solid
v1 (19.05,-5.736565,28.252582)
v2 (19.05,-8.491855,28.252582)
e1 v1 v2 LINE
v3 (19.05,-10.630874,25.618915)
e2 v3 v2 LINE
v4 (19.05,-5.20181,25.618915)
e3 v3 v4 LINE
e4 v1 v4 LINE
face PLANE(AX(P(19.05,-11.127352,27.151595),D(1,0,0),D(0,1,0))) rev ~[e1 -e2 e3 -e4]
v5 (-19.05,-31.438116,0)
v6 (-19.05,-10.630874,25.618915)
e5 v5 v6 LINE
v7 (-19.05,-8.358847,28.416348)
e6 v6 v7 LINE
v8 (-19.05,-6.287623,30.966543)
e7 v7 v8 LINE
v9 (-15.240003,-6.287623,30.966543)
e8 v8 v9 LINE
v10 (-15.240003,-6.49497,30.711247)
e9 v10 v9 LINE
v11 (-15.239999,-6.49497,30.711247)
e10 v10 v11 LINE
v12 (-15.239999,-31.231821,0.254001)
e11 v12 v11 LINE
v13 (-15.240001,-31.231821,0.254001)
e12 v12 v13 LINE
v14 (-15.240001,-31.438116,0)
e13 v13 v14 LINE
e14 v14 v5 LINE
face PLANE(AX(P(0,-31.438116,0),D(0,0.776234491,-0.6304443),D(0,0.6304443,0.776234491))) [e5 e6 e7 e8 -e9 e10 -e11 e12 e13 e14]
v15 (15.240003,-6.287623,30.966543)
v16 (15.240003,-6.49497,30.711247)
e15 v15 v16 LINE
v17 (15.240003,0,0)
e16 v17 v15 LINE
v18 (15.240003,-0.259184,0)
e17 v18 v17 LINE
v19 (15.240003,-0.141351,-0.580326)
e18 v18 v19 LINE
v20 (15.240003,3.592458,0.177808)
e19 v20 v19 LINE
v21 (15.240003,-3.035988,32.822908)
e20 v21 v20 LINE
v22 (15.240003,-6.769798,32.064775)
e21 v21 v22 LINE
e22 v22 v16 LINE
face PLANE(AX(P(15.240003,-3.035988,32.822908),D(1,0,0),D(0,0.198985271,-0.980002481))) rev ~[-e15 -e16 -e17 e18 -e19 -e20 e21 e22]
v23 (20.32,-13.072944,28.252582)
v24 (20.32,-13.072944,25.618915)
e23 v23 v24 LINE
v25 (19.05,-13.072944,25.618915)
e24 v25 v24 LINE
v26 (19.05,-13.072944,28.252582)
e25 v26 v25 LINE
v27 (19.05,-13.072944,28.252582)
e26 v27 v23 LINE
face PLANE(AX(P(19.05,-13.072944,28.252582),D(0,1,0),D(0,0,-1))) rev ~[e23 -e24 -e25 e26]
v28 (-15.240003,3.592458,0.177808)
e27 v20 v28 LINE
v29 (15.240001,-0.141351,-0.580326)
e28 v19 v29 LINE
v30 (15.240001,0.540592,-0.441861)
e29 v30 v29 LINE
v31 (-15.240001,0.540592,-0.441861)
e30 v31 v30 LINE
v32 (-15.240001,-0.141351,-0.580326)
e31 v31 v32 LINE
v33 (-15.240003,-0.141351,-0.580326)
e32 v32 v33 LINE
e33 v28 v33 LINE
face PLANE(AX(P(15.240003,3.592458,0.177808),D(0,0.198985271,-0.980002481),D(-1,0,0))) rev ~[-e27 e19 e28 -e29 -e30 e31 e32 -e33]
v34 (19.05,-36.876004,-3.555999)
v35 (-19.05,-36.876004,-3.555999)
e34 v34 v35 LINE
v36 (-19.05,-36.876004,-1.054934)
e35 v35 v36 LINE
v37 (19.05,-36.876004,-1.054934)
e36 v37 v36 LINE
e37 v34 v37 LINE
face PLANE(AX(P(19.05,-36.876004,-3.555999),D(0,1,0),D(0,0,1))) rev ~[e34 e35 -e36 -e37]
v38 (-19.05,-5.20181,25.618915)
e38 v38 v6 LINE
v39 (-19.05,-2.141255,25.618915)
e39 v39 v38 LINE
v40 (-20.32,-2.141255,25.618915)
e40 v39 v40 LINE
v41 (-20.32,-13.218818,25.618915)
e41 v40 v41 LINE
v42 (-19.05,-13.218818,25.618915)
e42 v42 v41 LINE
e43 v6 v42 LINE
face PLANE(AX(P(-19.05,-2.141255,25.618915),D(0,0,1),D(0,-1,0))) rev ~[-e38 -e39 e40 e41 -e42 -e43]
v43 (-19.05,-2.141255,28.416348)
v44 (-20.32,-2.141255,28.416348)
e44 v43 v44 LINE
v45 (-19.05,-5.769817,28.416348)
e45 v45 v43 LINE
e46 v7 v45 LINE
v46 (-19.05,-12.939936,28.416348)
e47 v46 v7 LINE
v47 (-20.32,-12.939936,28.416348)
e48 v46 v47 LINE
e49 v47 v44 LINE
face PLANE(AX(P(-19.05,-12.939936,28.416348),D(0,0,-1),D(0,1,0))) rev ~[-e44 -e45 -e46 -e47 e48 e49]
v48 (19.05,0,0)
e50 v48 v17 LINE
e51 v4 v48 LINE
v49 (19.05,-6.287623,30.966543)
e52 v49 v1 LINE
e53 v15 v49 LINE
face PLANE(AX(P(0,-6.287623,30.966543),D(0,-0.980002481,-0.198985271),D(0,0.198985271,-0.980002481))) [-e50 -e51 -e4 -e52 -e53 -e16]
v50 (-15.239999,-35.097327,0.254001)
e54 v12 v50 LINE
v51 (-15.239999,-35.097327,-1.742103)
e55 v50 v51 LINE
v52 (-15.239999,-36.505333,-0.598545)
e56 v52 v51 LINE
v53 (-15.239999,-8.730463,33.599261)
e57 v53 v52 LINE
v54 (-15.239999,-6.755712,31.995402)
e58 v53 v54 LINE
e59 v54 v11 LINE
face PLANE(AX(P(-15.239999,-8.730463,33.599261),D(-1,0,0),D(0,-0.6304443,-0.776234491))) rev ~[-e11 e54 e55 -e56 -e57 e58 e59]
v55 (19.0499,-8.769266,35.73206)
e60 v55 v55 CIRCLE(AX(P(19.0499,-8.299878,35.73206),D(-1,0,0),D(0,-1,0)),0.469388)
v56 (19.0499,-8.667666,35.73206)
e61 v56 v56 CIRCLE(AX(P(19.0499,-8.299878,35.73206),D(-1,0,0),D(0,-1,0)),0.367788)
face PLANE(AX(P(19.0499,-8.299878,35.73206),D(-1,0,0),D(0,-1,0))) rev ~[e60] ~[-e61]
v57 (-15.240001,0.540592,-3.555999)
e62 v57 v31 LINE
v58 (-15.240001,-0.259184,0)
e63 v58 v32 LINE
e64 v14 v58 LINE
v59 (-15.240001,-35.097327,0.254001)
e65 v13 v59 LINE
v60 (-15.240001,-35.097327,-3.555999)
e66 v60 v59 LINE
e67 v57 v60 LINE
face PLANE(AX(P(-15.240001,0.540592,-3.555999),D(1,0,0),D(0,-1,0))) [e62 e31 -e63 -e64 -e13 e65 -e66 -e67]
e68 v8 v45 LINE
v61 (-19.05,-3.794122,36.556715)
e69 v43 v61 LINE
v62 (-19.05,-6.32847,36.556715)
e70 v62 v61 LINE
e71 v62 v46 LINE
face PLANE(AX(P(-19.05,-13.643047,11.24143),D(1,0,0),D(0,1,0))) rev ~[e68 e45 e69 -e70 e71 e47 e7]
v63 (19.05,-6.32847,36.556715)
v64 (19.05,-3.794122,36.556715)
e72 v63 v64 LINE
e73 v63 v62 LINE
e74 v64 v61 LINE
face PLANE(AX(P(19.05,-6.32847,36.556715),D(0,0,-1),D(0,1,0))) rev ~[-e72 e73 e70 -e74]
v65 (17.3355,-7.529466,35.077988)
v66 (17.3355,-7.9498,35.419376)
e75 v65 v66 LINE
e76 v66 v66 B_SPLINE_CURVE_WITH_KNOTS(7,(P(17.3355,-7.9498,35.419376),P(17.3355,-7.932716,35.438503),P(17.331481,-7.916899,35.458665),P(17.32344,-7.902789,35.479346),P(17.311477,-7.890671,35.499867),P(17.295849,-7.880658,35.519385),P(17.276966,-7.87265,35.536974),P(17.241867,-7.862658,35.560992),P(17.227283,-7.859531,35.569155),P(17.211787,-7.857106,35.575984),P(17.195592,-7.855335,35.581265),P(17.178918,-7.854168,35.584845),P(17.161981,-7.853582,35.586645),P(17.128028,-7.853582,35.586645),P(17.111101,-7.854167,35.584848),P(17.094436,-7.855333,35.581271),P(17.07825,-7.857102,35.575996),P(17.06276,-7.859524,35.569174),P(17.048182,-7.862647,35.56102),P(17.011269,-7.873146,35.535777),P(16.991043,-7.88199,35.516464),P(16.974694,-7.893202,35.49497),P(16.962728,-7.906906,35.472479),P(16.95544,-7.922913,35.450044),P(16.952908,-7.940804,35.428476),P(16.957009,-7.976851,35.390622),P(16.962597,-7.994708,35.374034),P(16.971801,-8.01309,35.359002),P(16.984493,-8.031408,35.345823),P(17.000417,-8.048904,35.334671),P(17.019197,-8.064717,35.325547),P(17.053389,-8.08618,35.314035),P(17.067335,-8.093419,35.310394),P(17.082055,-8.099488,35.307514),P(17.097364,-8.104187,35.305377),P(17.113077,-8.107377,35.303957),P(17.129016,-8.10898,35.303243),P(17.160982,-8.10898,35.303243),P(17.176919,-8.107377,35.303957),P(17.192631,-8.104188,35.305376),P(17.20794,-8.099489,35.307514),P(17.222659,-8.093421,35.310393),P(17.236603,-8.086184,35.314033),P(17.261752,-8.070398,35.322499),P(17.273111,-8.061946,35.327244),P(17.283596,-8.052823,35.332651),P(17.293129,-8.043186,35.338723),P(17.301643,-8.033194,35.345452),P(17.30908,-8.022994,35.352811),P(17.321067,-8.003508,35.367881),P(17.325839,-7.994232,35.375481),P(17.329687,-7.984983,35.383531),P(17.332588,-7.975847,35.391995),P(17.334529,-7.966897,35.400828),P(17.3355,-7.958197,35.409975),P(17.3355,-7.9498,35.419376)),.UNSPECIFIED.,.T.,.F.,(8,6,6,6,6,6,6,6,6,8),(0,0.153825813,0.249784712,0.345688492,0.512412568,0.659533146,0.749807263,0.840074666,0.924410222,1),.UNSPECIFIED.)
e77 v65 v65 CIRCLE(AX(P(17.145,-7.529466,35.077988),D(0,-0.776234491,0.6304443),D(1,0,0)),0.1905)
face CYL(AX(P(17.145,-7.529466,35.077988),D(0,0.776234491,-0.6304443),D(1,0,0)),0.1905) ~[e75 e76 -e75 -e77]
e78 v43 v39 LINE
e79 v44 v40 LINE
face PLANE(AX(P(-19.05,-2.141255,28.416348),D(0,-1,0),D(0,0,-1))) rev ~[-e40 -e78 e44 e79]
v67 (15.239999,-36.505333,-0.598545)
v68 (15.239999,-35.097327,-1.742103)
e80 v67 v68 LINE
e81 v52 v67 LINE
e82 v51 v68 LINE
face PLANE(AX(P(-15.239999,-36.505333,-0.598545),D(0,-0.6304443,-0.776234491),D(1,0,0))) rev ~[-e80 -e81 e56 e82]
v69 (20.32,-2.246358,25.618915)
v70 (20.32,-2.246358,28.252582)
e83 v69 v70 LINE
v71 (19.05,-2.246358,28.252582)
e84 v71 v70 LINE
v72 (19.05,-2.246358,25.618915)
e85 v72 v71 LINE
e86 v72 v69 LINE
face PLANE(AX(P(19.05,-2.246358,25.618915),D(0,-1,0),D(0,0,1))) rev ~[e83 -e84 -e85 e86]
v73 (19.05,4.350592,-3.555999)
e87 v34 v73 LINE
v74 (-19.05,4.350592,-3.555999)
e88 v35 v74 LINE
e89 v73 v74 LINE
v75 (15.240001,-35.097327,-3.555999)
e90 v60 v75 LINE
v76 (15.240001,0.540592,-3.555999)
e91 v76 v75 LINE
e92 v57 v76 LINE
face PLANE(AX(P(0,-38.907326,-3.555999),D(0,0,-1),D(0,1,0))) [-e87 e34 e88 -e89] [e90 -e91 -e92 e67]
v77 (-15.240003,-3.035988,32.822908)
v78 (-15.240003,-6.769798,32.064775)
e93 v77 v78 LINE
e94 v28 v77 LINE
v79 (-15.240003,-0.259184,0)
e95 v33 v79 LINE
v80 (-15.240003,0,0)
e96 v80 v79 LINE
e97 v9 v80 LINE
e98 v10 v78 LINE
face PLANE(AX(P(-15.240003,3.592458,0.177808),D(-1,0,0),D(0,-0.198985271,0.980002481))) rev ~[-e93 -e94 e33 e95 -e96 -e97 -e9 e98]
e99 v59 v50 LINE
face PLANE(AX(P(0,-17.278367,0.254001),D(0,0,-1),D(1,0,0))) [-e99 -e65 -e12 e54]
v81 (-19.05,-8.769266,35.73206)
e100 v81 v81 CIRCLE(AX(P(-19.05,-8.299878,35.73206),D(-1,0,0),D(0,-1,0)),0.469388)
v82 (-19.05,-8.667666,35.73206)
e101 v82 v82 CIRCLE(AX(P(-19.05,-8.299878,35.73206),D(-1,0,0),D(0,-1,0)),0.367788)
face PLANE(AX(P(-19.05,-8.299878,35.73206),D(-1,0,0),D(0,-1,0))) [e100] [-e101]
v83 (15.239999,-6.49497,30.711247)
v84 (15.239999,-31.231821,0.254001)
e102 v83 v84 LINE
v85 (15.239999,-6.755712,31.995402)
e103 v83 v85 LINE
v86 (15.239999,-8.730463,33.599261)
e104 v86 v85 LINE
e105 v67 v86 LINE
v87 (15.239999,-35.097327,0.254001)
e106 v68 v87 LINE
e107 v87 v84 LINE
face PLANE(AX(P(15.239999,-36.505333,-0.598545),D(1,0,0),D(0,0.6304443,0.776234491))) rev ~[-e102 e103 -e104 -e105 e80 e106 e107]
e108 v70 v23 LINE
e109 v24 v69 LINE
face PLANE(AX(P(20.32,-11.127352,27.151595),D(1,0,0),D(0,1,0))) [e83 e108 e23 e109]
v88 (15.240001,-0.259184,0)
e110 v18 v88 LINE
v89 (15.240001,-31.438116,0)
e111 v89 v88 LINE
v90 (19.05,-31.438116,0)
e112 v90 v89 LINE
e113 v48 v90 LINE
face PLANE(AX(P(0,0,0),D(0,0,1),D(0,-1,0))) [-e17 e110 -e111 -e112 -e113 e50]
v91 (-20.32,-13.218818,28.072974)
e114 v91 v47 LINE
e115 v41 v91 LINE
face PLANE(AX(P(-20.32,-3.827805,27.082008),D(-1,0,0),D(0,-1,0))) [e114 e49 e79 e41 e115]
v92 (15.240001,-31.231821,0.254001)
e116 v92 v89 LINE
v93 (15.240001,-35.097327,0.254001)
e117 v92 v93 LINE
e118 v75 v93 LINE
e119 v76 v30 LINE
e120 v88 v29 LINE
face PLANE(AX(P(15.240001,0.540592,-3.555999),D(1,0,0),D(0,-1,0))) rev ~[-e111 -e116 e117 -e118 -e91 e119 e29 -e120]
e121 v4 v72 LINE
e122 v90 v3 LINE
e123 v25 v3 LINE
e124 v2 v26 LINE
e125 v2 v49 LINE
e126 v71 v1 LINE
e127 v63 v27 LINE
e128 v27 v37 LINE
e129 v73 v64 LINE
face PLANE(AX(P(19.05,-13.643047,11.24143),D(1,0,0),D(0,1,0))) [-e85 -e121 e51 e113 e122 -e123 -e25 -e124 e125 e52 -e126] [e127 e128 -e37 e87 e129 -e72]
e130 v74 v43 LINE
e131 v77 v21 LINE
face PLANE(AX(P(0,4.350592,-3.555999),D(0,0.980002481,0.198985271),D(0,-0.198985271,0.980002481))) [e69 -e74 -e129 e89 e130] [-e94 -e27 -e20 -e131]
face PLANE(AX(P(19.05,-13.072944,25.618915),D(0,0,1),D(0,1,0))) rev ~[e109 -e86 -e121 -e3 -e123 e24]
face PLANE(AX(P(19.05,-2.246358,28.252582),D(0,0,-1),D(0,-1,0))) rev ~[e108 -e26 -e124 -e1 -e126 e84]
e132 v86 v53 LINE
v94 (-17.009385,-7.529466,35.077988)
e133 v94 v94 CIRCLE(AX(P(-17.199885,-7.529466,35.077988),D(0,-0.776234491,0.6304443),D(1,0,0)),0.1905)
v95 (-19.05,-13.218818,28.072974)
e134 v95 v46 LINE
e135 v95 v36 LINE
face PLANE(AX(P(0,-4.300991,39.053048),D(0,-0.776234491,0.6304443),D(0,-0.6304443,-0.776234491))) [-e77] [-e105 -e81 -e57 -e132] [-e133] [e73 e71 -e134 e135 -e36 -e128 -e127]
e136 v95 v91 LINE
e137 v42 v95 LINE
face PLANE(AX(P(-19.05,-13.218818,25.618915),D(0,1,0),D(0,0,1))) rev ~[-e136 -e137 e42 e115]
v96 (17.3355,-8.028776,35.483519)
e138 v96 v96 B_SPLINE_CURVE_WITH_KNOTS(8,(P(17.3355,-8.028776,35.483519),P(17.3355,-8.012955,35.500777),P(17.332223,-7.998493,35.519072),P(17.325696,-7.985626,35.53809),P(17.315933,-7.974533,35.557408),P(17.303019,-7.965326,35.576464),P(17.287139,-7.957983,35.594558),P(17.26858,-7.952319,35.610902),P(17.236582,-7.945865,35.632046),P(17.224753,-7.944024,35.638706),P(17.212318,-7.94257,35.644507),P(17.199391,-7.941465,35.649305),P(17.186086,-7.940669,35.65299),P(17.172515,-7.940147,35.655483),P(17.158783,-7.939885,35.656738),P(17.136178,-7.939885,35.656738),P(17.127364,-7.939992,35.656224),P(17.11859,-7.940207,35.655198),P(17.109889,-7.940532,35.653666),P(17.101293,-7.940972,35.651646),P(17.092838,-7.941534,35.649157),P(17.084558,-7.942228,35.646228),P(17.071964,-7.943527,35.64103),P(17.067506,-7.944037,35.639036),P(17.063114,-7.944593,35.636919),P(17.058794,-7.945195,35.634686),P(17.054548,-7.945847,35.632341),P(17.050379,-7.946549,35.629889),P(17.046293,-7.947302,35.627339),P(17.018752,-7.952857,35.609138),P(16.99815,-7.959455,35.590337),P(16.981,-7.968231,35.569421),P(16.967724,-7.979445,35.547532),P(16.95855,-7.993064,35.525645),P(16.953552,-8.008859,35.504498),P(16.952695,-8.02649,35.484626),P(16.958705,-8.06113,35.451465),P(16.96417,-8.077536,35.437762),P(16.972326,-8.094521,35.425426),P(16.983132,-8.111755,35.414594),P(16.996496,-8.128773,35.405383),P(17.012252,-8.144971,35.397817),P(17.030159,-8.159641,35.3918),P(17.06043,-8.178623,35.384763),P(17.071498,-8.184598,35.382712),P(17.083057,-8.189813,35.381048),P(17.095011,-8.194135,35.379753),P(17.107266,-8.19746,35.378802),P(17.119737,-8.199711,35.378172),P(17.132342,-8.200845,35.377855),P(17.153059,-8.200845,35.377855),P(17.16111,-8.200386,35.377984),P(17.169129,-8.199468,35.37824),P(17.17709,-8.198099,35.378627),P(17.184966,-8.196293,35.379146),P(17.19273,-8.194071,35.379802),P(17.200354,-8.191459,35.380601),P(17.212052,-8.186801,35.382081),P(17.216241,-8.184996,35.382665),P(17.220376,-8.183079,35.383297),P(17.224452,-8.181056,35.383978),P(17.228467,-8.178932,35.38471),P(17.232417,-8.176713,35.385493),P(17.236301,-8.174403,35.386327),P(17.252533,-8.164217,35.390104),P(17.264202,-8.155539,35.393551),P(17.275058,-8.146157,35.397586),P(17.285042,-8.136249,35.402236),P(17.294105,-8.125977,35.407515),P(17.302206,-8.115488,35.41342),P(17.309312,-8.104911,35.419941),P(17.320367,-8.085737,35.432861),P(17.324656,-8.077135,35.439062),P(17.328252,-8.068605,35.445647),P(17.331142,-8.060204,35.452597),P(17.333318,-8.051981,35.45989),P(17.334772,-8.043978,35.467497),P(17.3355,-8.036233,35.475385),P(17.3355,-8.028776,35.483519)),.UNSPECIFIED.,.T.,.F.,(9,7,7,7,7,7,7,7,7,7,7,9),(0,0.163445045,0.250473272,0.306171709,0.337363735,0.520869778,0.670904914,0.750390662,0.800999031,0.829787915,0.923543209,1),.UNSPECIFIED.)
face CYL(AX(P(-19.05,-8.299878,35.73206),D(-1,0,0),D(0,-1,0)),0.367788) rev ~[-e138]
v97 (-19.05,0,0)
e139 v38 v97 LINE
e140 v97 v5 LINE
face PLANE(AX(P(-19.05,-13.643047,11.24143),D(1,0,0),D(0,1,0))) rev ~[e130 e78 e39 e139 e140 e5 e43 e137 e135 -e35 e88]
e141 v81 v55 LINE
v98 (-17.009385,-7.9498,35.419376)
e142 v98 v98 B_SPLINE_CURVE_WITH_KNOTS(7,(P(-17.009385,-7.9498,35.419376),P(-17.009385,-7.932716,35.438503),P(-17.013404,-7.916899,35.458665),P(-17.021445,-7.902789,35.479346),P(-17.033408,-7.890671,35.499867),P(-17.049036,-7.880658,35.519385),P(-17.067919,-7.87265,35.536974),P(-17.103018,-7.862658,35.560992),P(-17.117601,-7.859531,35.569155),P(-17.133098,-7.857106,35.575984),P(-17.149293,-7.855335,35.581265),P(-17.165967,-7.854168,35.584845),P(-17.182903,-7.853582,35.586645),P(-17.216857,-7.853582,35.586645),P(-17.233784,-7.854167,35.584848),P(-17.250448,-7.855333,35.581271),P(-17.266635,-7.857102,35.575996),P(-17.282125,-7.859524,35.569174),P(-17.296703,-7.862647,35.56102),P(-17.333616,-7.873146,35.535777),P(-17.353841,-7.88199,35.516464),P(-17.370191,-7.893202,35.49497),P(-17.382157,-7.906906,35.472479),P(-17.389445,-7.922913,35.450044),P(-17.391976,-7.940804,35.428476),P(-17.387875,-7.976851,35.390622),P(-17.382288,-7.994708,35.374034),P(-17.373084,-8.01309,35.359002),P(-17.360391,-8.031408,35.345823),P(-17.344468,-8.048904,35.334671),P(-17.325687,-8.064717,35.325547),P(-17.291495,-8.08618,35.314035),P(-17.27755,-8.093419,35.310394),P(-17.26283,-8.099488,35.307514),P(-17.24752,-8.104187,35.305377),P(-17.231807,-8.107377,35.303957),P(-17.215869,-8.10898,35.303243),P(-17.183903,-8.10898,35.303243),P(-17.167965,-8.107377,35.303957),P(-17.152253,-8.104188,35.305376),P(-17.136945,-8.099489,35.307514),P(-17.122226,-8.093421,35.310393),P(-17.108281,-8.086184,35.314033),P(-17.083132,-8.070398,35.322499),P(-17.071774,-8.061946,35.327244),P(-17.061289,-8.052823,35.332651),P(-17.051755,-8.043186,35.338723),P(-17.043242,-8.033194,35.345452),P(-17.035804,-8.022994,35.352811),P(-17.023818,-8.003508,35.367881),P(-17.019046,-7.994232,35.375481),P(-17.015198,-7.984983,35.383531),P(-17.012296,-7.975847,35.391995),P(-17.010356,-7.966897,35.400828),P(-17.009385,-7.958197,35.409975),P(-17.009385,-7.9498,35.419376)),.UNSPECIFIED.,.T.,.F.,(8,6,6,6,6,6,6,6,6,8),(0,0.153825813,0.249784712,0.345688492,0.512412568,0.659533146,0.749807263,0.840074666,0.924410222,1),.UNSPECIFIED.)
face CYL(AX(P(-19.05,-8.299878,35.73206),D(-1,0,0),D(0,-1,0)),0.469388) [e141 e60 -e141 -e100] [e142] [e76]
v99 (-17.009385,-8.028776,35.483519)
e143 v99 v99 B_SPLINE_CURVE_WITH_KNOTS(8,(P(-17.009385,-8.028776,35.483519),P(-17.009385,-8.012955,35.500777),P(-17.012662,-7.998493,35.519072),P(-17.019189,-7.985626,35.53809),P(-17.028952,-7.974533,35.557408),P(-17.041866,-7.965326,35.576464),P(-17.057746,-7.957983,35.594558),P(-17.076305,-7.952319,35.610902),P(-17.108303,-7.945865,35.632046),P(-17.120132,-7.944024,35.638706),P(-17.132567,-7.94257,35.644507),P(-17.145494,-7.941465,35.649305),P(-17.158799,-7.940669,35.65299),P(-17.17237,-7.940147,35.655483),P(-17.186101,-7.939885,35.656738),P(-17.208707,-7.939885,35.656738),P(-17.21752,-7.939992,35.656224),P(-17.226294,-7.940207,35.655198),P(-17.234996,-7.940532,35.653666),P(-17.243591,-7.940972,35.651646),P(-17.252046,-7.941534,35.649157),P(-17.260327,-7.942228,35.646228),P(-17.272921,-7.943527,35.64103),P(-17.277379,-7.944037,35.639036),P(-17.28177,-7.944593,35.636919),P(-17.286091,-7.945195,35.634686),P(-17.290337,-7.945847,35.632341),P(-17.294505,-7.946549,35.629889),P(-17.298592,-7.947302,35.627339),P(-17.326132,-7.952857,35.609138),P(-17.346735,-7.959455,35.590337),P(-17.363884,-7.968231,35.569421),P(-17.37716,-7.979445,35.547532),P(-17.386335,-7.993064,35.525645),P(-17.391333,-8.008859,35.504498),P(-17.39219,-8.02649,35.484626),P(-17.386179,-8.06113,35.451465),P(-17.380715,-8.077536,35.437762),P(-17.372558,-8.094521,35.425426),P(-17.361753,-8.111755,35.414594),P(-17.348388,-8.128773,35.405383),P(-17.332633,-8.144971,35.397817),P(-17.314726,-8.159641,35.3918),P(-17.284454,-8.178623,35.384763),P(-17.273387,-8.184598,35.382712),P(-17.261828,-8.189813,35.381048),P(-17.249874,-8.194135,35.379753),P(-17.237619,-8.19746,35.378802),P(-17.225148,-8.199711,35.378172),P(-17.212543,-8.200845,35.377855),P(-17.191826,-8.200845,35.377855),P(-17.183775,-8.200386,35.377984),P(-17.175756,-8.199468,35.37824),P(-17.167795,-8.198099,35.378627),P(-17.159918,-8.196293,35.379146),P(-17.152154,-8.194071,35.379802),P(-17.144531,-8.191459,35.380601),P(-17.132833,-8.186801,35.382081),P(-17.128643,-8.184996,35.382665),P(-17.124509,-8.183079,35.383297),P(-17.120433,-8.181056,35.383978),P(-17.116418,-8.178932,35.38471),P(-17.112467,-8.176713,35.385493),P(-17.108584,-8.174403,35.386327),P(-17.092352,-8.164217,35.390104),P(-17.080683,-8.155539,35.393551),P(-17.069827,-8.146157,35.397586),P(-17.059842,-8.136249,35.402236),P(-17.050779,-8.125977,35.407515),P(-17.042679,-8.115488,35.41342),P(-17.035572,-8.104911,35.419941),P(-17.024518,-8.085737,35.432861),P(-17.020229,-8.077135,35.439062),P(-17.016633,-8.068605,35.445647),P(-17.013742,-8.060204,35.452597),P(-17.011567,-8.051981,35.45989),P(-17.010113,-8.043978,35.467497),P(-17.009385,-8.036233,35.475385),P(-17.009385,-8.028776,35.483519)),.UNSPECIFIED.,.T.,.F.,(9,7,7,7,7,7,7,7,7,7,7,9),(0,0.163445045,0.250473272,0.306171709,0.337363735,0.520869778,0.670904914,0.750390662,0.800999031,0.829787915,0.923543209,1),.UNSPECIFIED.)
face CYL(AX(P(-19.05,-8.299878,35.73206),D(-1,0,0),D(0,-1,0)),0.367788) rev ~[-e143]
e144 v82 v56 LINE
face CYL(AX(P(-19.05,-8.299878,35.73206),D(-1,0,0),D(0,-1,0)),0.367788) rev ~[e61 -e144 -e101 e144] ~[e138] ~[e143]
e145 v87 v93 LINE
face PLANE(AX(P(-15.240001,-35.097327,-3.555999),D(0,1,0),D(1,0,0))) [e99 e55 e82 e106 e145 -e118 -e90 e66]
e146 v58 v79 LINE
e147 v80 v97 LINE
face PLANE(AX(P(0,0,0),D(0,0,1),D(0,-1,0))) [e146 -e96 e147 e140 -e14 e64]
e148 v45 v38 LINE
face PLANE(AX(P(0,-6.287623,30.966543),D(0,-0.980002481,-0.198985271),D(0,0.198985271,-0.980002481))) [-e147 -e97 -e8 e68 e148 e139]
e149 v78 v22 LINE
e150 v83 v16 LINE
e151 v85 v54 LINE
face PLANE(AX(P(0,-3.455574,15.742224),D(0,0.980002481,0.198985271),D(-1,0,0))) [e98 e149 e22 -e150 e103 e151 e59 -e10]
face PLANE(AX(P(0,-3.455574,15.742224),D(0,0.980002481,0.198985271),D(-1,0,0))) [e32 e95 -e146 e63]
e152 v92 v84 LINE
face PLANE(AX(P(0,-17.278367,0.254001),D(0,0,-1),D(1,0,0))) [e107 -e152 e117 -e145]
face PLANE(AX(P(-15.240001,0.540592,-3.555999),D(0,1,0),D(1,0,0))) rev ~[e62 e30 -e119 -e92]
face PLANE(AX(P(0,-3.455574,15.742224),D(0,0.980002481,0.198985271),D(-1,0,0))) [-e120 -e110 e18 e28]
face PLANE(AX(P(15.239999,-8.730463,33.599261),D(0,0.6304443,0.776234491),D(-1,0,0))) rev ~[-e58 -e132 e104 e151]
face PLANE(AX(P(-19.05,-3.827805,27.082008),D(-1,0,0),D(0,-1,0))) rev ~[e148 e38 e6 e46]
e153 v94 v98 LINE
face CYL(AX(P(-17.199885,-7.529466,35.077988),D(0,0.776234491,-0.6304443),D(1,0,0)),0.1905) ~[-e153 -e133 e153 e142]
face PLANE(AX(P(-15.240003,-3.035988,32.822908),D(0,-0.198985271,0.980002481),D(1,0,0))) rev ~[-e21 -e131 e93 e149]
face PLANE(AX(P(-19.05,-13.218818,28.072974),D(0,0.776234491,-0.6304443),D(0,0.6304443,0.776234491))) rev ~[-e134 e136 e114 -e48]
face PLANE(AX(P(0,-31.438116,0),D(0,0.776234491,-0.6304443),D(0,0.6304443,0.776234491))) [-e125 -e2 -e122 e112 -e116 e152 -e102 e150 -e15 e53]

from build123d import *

# Parameters (mm, degrees)
F1_DEPTH  = 19.05
F3_DEPTH  = 50.8
F6_DEPTH  = 1.27
F7_DEPTH  = 1.27
F9_DEPTH  = 4.064
F11_DEPTH = 3.81
F12_W     = 30.4800014411
F12_H     = 35.6379195737
F13_DEPTH = 3.81
F14_R     = 0.1905
F15_DEPTH = 1.016
F17_DEPTH = 50.8
F18_R     = 0.4693884444
F18_R_2   = 0.3677883594
F19_DEPTH = 38.0999
F20_DEPTH = 42.8752


with BuildPart() as f1:
    # F0 (on Right) → F1 (new body, symmetric)
    with BuildSketch(Plane.YZ):
        Polygon((-4.300991216, 39.0530479294), (-38.9073263628, -3.5559992527), (4.3505917698, -3.5559992527), align=None)
        Polygon((-6.2876227312, 30.9665426612), (0, 0), (-31.4381159842, 0), align=None, mode=Mode.SUBTRACT)
    extrude(amount=F1_DEPTH, both=True)

    # F2 (on face) → F3 (cut)
    with BuildSketch(Plane.YZ.offset(19.05)):
        Polygon((-6.3284697347, 36.5567151771), (-3.7941216332, 36.5567151771), (-4.300991216, 39.0530479294), align=None)
    extrude(amount=-F3_DEPTH, mode=Mode.SUBTRACT)

    # F5 (on face) → F6 (join)
    with BuildSketch(Plane(origin=(-19.05, 0, 0), x_dir=(0, -1, 0), z_dir=(-1, 0, 0))):
        Polygon((5.7698168155, 28.4163484679), (2.1412553343, 28.4163484679), (2.1412553343, 25.6189145148), (5.2018099345, 25.6189145148), align=None)
        Polygon((8.3588465857, 28.4163484679), (5.7698168155, 28.4163484679), (5.2018099345, 25.6189145148), (10.6308743201, 25.6189145148), align=None)
        Polygon((12.9399355427, 28.4163484679), (8.3588465857, 28.4163484679), (10.6308743201, 25.6189145148), (13.2188182324, 25.6189145148), (13.2188182324, 28.0729741801), align=None)
    extrude(amount=F6_DEPTH)

    # F4 (on face) → F7 (join)
    with BuildSketch(Plane.YZ.offset(19.05)):
        Polygon((-8.4918548826, 28.2525820137), (-13.0729438396, 28.2525820137), (-13.0729438396, 25.6189145148), (-10.6308743201, 25.6189145148), align=None)
        Polygon((-2.2463577334, 28.2525820137), (-5.7365647443, 28.2525820137), (-5.2018099345, 25.6189145148), (-2.2463577334, 25.6189145148), align=None)
        Polygon((-5.7365647443, 28.2525820137), (-8.4918548826, 28.2525820137), (-10.6308743201, 25.6189145148), (-5.2018099345, 25.6189145148), align=None)
    extrude(amount=F7_DEPTH)

    # F8 (on face) → F9 (cut)
    with BuildSketch(Plane(origin=(0, -21.7030111813, 17.6268123393), x_dir=(1, 0, 0), z_dir=(0, -0.7762344906, 0.6304443002))):
        Polygon((-15.2399991697, 13.4574822013), (-15.2399991697, -23.4791905796), (15.2399991697, -23.4791905796), (15.2399991697, 13.688865676), (15.2399991697, 13.8253802434), (15.2399991697, 20.5768346786), (-15.2399991697, 20.5768346786), (-15.2399991697, 13.8998411689), align=None)
    extrude(amount=-F9_DEPTH, mode=Mode.SUBTRACT)

    # F10 (on face) → F11 (cut)
    with BuildSketch(Plane(origin=(0, 3.4848880888, 0.7075914739), x_dir=(-1, 0, 0), z_dir=(0, 0.9800024806, 0.1989852707))):
        Polygon((15.2400027211, 32.7706485987), (-15.2400027211, 32.7706485987), (-15.2400027211, -0.5405944909), (15.2400027211, -0.5405944909), (15.2400027211, 28.2741702614), align=None)
    extrude(amount=-F11_DEPTH, mode=Mode.SUBTRACT)

    # F12 (on face) → F13 (cut)
    with BuildSketch(Plane(origin=(0, 0, -3.5559992527), x_dir=(1, 0, 0), z_dir=(0, 0, -1))):
        with Locations((0, 17.2783672965)):
            Rectangle(F12_W, F12_H)
    extrude(amount=-F13_DEPTH, mode=Mode.SUBTRACT)

    # F14 (on face) → F15 (join)
    with BuildSketch(Plane(origin=(0, -21.7030111813, 17.6268123393), x_dir=(1, 0, 0), z_dir=(0, -0.7762344906, 0.6304443002))):
        with Locations((-17.1998851001, 22.4818350938)):
            Circle(F14_R)
        with Locations((17.1449995848, 22.4818350938)):
            Circle(F14_R)
    extrude(amount=F15_DEPTH)

    # F16 (on face) → F17 (cut)
    with BuildSketch(Plane.YZ.offset(19.05)):
        Polygon((-38.9073263628, -3.5559992527), (-36.8760041893, -3.5559992527), (-36.8760041893, -1.0549340007), align=None)
    extrude(amount=-F17_DEPTH, mode=Mode.SUBTRACT)

    # F18 (on face) → F19 (join)
    with BuildSketch(Plane(origin=(-19.05, 0, 0), x_dir=(0, -1, 0), z_dir=(-1, 0, 0))):
        with Locations((8.2998776285, 35.7320597078)):
            Circle(F18_R)
        with Locations((8.2998776285, 35.7320597078)):
            Circle(F18_R_2, mode=Mode.SUBTRACT)
    extrude(amount=-F19_DEPTH)

    # F18 (on face) → F20 (cut)
    with BuildSketch(Plane(origin=(-19.05, 0, 0), x_dir=(0, -1, 0), z_dir=(-1, 0, 0))):
        with Locations((8.2998776285, 35.7320597078)):
            Circle(F18_R_2)
    extrude(amount=-F20_DEPTH, mode=Mode.SUBTRACT)


solid = f1.part
